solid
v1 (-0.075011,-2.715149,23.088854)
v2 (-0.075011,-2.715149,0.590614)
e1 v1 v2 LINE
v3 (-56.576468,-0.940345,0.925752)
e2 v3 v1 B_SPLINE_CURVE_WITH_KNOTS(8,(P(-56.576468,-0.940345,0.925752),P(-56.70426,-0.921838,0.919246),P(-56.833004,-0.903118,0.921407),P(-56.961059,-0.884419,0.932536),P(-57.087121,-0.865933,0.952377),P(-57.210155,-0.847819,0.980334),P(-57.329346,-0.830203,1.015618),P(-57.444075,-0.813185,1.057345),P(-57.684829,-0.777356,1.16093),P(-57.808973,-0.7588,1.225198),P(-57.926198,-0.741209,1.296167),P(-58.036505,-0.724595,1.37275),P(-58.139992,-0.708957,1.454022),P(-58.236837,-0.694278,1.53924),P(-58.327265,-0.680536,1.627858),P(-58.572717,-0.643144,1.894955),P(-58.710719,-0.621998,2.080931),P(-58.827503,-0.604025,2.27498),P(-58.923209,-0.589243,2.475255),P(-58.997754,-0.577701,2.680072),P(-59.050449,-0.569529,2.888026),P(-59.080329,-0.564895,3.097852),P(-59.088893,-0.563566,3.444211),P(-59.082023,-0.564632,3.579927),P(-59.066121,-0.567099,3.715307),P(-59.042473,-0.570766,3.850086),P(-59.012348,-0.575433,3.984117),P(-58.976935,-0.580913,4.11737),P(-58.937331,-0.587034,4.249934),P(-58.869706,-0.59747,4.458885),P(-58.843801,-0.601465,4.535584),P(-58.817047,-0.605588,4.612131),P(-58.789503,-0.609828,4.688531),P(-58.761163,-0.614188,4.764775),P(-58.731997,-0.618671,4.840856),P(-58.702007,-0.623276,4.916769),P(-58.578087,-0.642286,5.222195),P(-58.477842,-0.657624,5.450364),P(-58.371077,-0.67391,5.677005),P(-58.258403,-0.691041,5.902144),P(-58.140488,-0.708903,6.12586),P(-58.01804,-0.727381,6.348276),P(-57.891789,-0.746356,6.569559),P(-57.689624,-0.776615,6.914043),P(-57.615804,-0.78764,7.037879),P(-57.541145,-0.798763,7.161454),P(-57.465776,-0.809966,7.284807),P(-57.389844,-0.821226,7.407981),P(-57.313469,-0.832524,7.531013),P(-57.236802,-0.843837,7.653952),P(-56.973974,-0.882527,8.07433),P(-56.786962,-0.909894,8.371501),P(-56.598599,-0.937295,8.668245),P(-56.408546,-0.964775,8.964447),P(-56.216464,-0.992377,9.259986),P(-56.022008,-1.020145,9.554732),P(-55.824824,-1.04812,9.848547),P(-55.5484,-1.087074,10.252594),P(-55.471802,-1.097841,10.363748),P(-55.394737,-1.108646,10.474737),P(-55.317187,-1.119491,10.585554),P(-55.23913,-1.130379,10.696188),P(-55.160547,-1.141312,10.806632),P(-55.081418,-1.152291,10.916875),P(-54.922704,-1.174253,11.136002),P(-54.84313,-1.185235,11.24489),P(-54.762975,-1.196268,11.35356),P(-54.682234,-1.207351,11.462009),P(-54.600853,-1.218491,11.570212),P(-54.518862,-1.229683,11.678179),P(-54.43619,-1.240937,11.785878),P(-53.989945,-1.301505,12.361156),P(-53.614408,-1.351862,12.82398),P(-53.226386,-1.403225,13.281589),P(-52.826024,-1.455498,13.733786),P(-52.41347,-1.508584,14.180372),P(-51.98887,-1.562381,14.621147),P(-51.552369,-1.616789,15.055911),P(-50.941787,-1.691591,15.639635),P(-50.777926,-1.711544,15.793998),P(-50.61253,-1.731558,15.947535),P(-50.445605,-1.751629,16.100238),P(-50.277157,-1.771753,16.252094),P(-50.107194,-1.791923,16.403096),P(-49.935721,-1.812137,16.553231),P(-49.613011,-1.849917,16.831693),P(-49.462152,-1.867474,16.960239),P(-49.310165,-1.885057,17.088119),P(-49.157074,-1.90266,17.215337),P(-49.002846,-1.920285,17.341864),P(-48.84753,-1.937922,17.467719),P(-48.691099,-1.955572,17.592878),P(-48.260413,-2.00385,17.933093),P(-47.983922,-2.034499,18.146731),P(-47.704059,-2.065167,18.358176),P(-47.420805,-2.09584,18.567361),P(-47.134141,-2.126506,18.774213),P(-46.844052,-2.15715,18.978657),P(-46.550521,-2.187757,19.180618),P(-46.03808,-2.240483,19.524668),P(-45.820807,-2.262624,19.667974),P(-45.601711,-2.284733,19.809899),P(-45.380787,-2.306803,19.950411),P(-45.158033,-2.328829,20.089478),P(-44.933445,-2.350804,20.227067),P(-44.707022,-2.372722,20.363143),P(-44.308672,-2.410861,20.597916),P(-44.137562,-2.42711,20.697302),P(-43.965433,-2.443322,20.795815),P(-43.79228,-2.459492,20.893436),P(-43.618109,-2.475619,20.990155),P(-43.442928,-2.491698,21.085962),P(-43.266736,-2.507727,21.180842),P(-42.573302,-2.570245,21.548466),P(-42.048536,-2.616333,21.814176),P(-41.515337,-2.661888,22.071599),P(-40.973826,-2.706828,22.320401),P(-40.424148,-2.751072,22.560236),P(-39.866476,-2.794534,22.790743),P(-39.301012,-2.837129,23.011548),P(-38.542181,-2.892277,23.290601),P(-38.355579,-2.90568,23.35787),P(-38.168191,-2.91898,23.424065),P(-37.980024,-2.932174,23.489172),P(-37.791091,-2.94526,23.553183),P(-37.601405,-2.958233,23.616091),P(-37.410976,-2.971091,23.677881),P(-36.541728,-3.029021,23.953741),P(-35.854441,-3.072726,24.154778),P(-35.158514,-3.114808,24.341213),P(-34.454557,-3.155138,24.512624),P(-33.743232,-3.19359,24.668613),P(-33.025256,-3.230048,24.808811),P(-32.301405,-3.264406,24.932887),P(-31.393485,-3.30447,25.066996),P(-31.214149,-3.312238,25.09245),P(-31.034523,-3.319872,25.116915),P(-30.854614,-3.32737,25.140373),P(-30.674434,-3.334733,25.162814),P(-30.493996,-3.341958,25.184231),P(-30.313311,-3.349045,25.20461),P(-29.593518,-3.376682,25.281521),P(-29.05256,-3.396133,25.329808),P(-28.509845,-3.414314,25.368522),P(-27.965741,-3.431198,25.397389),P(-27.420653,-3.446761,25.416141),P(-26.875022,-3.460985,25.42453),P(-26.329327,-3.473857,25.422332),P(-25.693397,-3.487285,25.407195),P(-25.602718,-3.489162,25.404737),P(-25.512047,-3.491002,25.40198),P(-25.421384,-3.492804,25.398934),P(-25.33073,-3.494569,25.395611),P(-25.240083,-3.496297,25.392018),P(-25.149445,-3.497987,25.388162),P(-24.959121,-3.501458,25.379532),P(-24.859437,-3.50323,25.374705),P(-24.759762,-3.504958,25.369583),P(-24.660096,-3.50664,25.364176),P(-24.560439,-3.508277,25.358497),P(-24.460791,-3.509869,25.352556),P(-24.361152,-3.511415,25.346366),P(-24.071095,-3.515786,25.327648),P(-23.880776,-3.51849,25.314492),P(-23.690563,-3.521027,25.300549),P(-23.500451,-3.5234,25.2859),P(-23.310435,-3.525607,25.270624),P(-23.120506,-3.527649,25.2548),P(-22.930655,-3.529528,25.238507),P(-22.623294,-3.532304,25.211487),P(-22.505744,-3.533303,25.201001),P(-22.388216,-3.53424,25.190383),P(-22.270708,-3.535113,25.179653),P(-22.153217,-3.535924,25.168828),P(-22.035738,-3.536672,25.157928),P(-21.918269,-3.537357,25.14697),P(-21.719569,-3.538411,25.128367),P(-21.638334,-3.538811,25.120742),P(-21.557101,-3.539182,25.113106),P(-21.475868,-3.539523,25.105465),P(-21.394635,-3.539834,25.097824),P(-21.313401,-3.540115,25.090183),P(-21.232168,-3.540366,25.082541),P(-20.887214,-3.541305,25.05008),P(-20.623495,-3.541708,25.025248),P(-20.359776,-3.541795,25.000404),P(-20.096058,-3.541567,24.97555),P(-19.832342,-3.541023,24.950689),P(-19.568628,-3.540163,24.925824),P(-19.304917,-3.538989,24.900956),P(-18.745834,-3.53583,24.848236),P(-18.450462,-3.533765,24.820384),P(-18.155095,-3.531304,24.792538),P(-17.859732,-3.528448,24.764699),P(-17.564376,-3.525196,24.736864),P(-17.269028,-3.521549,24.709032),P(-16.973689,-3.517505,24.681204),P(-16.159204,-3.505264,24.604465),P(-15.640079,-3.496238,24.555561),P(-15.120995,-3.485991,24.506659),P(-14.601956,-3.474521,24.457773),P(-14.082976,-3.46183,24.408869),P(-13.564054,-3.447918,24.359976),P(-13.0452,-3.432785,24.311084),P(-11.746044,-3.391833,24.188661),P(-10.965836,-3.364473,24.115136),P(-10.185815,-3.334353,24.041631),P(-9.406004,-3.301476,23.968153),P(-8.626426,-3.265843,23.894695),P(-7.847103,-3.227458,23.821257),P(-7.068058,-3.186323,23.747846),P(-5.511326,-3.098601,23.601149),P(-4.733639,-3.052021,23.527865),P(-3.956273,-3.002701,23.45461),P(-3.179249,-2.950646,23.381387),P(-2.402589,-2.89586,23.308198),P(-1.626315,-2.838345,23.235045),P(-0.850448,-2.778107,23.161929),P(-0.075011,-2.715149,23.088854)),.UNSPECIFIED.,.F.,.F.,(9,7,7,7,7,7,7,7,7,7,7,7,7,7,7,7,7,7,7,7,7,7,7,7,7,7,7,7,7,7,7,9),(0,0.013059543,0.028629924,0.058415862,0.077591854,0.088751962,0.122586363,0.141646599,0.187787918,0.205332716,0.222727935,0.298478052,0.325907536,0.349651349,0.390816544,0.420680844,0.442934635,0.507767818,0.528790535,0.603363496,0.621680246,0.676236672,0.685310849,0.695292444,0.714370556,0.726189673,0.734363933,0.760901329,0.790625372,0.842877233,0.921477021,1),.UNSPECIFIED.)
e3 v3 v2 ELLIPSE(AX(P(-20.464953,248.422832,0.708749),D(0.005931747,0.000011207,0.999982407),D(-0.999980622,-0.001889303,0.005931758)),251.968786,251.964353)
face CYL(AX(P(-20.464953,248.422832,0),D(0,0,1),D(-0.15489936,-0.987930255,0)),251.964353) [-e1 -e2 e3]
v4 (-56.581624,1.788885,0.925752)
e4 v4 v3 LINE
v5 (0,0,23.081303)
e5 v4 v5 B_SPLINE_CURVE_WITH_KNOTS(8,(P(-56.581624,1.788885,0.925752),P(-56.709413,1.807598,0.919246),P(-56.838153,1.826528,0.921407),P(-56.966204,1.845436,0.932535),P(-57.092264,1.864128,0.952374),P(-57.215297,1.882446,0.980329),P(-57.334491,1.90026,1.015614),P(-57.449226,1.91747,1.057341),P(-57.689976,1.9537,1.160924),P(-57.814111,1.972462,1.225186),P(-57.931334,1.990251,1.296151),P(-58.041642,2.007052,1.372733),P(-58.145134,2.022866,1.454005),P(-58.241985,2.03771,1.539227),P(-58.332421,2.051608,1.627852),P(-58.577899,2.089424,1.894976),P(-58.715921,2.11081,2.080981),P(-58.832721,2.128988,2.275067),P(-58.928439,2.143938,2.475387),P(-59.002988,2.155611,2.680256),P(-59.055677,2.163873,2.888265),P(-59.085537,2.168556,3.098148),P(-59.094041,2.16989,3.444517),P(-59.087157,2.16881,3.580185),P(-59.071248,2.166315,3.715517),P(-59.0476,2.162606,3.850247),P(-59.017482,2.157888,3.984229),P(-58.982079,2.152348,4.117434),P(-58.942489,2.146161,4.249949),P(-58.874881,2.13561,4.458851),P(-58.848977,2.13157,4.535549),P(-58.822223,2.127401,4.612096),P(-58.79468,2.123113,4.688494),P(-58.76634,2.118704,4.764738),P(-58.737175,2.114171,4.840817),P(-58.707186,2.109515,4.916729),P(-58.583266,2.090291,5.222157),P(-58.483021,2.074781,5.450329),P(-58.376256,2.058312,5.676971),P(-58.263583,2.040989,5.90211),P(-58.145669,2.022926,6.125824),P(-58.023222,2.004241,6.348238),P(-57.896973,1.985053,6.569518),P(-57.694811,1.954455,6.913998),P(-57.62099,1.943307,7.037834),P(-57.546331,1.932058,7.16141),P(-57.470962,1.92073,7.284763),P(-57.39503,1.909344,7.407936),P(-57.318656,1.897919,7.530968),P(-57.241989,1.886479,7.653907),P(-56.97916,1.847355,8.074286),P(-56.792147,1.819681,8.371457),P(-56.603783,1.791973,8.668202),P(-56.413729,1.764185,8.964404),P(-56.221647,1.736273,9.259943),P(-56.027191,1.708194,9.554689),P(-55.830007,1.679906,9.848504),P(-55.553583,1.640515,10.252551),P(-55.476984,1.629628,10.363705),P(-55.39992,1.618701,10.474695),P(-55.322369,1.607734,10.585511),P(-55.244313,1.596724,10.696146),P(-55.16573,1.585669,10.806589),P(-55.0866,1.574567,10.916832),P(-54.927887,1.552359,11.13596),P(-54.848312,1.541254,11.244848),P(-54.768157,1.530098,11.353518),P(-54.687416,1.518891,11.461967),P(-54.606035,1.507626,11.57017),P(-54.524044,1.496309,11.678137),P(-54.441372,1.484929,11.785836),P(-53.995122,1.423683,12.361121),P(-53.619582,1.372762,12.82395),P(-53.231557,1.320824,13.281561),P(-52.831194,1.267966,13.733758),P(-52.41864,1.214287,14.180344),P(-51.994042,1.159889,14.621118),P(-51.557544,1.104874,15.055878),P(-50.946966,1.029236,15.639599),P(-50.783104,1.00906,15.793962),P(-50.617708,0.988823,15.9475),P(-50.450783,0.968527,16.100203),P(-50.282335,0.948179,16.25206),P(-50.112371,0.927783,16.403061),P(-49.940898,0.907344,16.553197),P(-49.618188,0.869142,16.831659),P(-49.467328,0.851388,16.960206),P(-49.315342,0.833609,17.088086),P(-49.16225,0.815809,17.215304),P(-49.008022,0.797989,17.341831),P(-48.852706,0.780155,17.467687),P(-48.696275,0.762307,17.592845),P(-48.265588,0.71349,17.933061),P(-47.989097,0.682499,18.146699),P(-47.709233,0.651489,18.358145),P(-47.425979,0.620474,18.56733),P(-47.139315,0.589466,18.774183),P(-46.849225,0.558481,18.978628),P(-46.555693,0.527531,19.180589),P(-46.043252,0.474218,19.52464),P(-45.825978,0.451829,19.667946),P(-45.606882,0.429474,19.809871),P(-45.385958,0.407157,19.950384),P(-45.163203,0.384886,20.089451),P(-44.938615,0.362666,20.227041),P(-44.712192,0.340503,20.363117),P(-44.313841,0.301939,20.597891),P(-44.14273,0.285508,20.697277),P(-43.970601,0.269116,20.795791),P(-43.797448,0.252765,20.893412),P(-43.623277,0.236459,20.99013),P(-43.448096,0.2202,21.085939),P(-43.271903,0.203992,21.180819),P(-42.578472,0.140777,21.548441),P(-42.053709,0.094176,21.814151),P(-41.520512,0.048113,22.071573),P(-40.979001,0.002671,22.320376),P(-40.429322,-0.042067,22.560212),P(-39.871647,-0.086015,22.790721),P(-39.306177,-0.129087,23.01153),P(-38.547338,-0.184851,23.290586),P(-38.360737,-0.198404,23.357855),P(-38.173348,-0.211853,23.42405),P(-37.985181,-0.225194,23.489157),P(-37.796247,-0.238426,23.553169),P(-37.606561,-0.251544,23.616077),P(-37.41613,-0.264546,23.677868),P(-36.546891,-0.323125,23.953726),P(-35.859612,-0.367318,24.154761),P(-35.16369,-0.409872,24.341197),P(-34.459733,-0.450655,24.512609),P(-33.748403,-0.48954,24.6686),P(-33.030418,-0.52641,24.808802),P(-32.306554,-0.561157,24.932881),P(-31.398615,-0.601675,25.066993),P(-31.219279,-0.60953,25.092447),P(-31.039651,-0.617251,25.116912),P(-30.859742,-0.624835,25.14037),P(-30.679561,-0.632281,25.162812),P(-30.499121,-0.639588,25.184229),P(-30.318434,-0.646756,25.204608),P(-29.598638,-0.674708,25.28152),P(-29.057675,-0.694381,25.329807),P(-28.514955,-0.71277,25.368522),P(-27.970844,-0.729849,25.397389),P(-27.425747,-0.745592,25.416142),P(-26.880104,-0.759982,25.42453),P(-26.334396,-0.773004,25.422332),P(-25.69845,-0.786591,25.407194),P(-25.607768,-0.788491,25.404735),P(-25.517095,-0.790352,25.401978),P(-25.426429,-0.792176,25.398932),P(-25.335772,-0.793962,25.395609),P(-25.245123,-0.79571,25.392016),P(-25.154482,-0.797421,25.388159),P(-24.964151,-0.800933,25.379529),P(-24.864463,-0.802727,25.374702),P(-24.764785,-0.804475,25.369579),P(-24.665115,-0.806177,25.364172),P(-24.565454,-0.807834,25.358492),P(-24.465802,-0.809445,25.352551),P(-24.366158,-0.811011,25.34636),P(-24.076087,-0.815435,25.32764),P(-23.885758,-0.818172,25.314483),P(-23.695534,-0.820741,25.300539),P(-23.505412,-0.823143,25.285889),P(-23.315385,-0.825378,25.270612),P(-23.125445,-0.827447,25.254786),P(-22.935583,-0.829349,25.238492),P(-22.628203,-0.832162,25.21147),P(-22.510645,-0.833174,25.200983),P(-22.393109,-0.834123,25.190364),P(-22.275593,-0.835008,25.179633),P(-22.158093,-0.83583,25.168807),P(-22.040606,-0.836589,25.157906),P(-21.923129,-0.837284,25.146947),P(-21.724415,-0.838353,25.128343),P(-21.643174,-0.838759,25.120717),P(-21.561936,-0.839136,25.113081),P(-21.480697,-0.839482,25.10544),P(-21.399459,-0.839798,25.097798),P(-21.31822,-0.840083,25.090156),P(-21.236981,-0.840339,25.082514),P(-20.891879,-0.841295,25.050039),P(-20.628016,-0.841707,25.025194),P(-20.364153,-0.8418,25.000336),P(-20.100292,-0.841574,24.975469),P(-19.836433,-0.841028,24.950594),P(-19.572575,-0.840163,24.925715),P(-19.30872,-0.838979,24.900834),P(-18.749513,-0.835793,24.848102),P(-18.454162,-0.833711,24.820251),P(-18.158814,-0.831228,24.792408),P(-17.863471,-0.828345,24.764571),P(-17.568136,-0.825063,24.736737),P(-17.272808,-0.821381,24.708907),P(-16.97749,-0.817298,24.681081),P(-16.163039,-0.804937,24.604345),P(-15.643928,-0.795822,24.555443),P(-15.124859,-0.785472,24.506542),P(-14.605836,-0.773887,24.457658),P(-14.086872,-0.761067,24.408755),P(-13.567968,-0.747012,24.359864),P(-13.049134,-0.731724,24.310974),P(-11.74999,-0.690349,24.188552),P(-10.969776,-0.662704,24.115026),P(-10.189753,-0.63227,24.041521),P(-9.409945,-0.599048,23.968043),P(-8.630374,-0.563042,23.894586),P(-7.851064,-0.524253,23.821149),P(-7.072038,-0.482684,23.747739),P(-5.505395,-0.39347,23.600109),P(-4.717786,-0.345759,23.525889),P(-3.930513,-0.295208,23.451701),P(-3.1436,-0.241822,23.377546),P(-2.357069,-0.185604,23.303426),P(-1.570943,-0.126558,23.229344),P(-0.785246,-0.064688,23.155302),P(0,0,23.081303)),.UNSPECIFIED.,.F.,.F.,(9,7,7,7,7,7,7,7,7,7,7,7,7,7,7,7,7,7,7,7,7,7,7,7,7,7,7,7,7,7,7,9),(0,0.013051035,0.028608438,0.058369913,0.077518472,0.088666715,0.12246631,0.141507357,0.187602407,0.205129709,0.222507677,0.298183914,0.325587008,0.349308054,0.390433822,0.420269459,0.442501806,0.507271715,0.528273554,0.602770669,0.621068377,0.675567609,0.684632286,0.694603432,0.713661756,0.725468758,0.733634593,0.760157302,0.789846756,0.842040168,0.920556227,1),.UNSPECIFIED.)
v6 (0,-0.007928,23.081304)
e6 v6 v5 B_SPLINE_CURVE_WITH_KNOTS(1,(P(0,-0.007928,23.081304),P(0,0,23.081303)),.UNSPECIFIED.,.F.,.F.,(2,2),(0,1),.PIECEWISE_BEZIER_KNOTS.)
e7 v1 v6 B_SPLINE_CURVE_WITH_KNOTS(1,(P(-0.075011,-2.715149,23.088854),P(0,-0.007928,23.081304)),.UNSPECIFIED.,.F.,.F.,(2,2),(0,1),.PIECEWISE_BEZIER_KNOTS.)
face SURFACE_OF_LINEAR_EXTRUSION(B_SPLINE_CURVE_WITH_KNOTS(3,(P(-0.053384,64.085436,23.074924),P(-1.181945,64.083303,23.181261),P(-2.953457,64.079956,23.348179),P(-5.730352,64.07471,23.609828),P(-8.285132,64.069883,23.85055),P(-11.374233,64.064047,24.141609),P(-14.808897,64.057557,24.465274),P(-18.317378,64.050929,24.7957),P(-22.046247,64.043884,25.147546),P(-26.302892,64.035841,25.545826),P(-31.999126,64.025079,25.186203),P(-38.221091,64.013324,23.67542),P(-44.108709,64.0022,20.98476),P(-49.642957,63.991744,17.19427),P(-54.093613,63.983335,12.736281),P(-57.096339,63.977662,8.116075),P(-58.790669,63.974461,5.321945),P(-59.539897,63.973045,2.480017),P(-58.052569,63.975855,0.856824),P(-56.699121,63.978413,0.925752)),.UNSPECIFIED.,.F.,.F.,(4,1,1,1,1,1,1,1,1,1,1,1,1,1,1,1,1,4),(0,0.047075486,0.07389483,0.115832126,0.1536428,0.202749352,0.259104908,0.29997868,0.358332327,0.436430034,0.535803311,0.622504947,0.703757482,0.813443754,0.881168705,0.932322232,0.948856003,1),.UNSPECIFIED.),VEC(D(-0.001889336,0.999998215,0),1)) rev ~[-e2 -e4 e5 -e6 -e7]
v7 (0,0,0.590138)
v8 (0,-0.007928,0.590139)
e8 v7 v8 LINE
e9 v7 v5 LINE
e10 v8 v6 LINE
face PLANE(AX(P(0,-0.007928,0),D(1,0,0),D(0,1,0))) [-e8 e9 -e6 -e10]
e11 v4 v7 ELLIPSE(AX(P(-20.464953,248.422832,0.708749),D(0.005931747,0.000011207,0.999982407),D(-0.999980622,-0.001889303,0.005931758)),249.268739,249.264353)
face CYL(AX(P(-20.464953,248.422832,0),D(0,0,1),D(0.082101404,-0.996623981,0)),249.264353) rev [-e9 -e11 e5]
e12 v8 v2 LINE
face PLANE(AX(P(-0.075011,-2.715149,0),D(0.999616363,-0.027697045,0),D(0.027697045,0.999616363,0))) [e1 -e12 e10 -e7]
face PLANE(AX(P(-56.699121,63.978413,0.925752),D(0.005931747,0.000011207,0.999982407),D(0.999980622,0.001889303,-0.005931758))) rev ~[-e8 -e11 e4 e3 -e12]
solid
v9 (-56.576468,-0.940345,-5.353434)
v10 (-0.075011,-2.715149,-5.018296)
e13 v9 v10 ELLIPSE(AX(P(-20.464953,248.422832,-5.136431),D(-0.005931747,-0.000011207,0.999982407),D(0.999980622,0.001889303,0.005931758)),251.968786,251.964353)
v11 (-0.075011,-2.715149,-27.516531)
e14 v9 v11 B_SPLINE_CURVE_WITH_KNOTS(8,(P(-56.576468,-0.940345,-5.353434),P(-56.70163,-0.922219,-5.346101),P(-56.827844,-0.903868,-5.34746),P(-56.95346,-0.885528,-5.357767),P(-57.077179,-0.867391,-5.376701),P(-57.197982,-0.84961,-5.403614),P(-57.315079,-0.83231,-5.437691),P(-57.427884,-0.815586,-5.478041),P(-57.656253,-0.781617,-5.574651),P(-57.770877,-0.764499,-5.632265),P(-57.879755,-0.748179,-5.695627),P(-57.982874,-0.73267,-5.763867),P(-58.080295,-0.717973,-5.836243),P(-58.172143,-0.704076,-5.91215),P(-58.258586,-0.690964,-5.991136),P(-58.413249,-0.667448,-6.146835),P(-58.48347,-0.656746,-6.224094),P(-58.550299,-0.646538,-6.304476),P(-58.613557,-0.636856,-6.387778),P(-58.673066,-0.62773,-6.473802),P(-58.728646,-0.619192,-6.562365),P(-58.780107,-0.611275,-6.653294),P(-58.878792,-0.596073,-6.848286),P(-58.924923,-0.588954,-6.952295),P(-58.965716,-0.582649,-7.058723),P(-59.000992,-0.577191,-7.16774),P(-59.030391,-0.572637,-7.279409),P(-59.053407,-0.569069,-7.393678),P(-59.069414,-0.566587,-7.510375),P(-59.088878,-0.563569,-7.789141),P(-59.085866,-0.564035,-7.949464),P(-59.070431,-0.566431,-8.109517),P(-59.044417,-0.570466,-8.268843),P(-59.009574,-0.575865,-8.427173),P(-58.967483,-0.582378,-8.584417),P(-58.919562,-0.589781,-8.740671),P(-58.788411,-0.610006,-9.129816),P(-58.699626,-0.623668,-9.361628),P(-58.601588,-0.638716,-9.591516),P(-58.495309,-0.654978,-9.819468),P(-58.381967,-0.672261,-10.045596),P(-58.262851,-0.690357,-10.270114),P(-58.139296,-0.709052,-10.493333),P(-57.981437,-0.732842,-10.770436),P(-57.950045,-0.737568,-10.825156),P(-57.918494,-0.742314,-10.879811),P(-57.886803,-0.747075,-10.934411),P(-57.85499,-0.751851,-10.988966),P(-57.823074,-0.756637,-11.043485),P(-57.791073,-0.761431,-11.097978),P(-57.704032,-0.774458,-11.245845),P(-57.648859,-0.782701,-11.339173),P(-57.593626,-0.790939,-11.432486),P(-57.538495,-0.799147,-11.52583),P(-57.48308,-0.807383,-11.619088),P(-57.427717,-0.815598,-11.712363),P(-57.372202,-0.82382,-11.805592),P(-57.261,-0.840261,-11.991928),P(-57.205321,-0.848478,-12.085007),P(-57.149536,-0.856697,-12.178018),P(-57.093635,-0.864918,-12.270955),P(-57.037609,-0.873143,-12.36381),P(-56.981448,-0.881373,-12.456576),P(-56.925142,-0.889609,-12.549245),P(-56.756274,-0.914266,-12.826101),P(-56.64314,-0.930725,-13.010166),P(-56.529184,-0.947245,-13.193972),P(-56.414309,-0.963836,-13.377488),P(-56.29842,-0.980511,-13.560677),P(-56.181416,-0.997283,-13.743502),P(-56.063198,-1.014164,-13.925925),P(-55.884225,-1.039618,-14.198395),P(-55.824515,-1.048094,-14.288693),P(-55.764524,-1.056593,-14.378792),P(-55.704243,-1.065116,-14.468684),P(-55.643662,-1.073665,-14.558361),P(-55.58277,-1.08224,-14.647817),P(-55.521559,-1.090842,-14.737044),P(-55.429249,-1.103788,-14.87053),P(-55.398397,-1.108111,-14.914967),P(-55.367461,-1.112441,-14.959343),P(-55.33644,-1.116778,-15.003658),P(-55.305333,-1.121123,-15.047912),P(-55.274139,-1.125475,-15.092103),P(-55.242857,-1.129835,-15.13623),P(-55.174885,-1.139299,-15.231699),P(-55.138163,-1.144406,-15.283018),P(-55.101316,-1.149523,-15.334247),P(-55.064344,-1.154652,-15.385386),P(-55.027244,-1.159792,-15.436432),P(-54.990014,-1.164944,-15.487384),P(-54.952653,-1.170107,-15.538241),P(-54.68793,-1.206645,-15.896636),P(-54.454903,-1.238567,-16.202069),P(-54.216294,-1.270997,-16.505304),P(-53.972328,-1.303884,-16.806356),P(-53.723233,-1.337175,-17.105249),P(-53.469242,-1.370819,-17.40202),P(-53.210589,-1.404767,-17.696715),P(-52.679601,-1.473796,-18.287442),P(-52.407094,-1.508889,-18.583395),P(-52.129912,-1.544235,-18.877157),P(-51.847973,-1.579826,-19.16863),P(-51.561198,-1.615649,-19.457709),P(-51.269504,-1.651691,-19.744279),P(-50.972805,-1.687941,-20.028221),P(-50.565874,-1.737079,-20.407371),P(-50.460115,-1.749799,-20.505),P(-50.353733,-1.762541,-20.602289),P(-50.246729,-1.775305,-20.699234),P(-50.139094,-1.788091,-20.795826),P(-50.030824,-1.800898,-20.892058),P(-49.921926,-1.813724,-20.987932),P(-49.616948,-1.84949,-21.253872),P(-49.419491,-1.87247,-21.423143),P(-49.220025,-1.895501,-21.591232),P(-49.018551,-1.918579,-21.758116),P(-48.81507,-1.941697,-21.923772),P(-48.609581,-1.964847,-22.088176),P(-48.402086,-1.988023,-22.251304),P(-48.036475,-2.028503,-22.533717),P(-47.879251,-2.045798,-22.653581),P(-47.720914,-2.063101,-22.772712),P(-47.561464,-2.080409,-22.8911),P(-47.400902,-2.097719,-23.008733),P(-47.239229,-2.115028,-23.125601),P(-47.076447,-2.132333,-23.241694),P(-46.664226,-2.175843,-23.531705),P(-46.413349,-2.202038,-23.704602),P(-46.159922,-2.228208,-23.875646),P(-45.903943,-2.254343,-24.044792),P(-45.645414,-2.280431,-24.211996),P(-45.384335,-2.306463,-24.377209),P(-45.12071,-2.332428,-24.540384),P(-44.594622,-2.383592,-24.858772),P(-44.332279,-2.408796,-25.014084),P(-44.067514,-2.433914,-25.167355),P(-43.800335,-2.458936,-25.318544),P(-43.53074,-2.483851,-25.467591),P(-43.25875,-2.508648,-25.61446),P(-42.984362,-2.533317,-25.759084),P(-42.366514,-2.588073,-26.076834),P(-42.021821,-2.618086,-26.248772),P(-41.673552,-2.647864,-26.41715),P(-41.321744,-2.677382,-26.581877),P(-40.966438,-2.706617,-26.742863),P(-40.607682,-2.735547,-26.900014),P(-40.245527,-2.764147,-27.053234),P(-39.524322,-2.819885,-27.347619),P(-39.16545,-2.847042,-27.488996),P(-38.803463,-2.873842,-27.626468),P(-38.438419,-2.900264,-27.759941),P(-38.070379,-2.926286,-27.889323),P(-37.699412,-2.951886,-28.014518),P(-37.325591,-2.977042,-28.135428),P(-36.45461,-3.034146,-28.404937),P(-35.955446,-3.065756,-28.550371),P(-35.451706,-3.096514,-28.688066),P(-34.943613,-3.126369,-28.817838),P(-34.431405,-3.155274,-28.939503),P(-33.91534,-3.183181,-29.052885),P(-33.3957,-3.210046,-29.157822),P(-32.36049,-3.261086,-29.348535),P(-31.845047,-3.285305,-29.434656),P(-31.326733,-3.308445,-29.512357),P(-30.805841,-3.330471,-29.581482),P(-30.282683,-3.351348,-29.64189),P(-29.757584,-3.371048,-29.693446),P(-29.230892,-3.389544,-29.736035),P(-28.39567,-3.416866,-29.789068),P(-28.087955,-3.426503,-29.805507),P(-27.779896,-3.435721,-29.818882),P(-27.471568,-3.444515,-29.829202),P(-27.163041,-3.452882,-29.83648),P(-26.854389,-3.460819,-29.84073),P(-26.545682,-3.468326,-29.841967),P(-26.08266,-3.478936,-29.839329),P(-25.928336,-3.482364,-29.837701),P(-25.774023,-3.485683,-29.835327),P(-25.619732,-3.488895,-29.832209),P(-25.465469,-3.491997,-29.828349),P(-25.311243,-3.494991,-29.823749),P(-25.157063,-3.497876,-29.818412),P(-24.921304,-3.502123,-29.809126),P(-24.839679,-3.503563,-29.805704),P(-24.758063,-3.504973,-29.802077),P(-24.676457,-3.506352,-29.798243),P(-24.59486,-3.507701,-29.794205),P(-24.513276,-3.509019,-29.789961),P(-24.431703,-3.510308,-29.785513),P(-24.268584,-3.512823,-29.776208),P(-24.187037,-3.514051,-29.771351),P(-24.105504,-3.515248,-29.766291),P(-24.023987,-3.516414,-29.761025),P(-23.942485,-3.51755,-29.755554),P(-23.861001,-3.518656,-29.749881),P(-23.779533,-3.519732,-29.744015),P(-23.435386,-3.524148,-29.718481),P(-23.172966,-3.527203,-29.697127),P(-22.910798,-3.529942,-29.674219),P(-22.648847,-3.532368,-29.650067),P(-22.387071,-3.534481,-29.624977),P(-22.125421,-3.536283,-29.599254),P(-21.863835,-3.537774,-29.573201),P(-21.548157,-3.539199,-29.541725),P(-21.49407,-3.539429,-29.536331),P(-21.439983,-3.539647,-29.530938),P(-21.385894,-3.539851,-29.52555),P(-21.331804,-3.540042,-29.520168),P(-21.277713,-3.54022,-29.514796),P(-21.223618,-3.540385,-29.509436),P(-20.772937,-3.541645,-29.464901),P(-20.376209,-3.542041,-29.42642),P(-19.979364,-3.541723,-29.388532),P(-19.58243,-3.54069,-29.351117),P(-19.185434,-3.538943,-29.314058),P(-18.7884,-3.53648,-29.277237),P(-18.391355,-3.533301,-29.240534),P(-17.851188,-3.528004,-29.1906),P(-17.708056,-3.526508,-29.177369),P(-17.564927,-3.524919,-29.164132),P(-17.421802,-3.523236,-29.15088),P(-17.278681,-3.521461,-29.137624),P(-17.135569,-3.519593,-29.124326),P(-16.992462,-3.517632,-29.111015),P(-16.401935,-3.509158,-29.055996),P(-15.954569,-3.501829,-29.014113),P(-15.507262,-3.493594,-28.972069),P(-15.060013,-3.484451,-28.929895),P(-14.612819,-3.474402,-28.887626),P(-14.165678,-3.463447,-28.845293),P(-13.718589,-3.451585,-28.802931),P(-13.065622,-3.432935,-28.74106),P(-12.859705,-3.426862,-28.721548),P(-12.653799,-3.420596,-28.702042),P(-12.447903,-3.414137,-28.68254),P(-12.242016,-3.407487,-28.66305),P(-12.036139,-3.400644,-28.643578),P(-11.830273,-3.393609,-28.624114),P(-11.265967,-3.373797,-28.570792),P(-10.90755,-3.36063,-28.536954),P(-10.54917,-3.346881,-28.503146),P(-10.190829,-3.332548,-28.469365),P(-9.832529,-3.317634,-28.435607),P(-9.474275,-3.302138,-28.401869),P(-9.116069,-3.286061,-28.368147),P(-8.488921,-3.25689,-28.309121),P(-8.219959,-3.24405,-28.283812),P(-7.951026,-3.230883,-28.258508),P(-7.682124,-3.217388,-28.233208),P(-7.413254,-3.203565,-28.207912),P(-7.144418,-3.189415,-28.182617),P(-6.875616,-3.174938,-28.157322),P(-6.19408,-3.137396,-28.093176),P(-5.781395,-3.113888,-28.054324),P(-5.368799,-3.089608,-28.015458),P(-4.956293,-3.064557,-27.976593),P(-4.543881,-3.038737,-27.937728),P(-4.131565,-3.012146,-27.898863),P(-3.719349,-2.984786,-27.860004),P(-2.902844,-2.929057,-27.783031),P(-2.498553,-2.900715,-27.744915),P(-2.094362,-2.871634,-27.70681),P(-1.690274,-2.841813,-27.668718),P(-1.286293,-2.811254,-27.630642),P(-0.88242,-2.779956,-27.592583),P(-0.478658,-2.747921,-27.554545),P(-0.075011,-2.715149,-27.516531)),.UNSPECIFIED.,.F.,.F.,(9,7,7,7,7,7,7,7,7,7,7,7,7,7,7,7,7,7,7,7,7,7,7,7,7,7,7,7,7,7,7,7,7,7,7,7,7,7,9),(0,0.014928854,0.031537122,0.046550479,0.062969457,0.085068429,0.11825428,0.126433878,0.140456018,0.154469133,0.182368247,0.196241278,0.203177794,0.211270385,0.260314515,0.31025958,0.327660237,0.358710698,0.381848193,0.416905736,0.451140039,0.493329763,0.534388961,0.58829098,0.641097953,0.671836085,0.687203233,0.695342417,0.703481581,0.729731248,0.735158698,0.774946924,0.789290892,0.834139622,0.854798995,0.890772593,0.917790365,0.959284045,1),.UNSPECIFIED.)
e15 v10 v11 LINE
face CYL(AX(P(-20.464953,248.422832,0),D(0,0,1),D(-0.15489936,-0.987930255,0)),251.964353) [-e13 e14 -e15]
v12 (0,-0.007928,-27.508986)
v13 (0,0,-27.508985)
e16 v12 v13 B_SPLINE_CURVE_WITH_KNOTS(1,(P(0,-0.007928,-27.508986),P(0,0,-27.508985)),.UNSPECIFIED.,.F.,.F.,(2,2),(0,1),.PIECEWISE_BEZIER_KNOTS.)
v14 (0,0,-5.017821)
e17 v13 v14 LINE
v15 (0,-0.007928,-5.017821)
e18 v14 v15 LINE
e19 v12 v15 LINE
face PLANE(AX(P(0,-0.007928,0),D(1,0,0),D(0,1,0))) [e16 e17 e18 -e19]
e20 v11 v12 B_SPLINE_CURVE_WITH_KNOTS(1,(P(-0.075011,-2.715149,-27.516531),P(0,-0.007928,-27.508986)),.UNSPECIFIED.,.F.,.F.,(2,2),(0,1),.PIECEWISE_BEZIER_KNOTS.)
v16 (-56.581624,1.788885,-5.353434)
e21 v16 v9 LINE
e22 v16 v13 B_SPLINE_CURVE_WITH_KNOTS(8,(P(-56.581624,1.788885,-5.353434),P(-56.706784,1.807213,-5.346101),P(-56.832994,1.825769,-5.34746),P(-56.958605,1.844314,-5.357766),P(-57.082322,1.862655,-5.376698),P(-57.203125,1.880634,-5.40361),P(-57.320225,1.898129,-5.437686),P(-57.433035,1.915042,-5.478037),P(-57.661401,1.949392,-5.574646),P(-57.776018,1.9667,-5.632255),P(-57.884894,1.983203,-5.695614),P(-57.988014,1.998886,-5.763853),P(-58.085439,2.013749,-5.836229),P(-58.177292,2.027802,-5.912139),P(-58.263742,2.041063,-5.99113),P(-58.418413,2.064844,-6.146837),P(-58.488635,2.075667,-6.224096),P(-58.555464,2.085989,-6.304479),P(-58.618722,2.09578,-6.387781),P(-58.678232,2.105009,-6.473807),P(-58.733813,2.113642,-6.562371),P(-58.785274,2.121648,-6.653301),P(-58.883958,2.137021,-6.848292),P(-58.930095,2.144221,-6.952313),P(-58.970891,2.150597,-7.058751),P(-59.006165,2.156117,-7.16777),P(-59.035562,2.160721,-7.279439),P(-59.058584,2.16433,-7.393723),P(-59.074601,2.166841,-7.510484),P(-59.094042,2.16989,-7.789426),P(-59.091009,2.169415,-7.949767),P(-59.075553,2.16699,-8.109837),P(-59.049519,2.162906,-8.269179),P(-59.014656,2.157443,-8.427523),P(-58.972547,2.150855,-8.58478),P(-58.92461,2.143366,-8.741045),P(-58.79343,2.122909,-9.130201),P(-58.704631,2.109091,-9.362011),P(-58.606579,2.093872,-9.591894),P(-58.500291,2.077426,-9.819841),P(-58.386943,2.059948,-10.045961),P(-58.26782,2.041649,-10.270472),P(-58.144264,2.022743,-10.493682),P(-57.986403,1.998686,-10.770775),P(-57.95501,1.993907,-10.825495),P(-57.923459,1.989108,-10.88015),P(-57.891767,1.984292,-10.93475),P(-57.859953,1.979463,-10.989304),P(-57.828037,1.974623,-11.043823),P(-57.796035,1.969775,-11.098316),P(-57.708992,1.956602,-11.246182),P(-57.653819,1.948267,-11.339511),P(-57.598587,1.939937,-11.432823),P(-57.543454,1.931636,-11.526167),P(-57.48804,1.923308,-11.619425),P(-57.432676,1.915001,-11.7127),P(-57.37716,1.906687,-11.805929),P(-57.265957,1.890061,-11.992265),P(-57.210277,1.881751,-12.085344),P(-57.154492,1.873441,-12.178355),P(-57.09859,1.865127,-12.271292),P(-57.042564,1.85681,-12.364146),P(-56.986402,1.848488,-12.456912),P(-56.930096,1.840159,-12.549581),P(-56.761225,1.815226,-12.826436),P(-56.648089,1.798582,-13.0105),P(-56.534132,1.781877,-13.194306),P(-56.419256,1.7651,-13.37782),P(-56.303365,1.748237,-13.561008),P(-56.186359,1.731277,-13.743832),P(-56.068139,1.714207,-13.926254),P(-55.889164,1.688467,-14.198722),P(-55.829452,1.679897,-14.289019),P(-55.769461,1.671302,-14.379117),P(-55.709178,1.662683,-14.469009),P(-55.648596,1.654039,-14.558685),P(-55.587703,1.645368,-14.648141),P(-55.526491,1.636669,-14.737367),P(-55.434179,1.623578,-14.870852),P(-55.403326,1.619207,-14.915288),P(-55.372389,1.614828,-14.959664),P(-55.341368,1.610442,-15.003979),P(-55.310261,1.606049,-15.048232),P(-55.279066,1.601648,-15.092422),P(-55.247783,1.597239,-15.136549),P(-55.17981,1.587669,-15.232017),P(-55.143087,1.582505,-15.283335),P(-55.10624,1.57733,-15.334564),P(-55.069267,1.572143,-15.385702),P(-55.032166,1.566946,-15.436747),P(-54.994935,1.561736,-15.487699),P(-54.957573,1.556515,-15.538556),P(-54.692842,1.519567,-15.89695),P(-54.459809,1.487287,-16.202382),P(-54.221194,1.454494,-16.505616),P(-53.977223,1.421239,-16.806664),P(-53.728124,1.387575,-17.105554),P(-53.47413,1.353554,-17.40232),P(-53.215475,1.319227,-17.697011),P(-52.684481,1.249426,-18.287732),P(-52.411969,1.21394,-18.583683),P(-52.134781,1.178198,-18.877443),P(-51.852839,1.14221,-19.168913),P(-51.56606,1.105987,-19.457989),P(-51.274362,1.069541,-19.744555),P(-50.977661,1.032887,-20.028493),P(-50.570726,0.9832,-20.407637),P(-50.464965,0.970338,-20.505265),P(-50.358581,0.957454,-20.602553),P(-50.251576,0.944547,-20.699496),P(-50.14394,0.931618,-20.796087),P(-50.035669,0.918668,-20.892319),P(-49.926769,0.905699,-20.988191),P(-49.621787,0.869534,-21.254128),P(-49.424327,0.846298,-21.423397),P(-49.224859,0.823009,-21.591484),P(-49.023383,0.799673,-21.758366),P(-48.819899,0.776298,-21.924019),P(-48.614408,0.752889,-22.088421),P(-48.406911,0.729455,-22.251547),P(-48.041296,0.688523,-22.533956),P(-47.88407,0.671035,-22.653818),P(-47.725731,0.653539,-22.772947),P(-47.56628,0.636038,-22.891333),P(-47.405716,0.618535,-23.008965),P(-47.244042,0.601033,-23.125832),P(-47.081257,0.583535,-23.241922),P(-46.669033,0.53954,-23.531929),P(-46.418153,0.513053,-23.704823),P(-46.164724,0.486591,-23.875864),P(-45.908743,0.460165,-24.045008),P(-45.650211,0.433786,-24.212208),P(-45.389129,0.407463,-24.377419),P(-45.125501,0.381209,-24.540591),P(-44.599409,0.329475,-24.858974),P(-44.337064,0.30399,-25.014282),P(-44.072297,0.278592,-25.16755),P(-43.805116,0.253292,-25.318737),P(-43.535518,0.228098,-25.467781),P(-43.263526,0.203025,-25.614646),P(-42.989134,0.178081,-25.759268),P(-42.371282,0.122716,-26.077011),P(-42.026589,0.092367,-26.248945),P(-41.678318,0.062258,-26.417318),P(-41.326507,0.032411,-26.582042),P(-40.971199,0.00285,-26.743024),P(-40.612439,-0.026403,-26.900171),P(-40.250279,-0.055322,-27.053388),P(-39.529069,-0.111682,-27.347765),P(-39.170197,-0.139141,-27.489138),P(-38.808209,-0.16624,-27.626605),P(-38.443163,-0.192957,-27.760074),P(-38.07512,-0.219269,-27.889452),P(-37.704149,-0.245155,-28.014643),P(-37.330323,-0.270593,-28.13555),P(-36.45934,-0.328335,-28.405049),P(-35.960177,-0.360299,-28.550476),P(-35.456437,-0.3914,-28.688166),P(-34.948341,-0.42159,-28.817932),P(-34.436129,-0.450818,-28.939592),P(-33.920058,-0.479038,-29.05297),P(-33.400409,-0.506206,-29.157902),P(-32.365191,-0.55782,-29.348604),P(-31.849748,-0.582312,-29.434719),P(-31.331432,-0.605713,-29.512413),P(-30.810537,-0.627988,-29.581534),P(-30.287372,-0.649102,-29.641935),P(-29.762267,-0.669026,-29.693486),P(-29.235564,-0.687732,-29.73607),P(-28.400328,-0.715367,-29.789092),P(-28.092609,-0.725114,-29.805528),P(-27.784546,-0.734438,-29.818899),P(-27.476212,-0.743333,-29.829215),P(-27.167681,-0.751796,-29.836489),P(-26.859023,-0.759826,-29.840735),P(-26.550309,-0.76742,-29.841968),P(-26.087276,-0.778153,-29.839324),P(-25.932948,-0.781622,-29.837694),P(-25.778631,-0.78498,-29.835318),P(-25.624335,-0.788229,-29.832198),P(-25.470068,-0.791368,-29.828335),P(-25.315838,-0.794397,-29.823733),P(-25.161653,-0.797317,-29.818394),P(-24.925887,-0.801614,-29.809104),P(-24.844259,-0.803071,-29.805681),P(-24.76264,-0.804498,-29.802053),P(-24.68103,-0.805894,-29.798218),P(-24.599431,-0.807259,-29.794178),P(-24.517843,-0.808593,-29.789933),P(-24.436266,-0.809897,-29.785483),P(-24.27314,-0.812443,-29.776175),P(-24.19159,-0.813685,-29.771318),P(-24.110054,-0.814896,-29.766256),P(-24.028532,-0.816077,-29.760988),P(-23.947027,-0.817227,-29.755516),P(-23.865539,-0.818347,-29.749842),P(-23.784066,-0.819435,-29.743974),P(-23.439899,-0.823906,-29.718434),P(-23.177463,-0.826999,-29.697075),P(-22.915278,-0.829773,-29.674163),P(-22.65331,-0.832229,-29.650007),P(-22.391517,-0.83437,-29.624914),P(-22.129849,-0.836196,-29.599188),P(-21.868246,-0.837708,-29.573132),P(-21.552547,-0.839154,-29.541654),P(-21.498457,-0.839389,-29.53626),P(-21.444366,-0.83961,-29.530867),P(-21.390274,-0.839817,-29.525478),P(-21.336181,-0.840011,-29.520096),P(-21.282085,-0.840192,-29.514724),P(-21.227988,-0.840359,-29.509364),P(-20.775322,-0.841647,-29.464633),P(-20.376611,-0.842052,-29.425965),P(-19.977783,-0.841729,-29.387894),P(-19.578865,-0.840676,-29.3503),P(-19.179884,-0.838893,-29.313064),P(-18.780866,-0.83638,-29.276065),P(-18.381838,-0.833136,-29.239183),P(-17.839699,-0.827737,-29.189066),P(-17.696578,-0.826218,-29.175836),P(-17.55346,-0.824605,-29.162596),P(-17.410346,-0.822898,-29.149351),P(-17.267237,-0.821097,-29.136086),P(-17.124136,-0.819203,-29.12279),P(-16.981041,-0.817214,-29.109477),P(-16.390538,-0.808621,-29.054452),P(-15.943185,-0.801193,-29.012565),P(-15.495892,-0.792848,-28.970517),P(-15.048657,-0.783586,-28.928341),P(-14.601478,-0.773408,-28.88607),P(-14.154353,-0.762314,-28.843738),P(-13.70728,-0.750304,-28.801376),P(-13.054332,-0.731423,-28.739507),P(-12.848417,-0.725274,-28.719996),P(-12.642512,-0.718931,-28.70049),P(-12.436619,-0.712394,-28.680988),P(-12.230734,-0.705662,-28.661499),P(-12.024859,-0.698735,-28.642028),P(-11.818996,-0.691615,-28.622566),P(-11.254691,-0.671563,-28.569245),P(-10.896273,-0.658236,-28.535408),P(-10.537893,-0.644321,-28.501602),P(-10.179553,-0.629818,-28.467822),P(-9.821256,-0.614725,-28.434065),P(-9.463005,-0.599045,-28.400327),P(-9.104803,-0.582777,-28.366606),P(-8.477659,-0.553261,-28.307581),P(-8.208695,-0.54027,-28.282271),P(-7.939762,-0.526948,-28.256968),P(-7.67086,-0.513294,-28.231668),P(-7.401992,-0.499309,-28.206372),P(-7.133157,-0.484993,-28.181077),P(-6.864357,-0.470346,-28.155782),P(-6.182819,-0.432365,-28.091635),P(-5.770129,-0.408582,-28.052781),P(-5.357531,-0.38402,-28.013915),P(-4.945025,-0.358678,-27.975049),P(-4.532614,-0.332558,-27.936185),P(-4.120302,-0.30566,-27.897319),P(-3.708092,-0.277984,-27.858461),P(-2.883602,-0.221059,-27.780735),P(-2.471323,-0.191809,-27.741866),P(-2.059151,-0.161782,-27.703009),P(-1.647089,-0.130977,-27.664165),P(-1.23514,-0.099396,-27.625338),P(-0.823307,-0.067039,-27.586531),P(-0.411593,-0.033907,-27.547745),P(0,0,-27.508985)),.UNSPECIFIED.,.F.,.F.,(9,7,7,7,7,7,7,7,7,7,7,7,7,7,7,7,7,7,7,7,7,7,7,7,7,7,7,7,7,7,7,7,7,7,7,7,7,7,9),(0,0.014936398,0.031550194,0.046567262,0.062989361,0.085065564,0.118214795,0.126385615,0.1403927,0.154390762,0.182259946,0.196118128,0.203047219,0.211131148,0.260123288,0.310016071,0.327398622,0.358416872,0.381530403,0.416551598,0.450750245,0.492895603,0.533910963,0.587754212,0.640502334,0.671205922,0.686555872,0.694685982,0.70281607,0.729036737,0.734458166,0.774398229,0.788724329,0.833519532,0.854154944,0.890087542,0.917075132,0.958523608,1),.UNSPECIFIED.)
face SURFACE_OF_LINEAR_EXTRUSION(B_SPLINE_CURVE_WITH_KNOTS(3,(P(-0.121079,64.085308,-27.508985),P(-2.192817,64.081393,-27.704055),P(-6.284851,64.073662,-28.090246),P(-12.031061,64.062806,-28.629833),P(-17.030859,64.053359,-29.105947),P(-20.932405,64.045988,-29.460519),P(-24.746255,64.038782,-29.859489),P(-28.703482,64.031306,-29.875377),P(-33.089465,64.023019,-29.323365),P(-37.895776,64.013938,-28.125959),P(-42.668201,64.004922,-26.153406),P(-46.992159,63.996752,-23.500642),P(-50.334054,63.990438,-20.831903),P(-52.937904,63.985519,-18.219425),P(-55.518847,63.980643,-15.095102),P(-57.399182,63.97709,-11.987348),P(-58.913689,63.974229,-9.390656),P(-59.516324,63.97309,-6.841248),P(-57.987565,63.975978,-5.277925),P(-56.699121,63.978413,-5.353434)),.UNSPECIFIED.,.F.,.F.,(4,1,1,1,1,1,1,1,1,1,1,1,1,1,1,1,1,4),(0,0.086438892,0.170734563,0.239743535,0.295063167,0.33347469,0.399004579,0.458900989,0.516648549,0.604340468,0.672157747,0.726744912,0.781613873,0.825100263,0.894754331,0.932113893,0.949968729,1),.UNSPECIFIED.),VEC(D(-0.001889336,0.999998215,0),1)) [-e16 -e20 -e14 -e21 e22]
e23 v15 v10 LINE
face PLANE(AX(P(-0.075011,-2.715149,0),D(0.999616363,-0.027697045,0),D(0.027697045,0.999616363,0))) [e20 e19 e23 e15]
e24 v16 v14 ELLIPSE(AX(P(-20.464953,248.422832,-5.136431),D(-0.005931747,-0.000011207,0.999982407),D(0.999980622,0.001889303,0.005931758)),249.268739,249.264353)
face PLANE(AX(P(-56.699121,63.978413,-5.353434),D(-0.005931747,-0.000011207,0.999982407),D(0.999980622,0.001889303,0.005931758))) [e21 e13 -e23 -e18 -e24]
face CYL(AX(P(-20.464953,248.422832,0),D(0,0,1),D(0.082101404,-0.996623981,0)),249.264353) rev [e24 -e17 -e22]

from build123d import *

# Parameters (mm, degrees)
Y_KSEKLIK_EKSTR_ZYON1_DEPTH = 55
KES_EKSTR_ZYON1_DEPTH       = 110
KES_EKSTR_ZYON1_DEPTH_BACK  = 110
IZIM5_OUTSIDE_W             = 86.532
IZIM5_OUTSIDE_H             = 137.038
KES_EKSTR_ZYON2_DEPTH       = 85


with BuildPart() as part:
    # Çizim1 → Yükseklik-Ekstrüzyon1 (new, symmetric)
    with BuildSketch(Plane.XY):
        with BuildLine():
            Line((-0.075010807, -2.715149048), (0, -0.007927797))
            Line((0, -0.007927797), (0, 0))
            ThreePointArc((0, 0), (-29.81394193, -0.66613641), (-59.494070389, 2.232974794))
            Line((-59.494070389, 2.232974794), (-59.494070389, -0.500375633))
            ThreePointArc((-59.494070389, -0.500375633), (-29.850101819, -3.366671884), (-0.075010807, -2.715149048))
        make_face()
    extrude(amount=Y_KSEKLIK_EKSTR_ZYON1_DEPTH, both=True)

    # Çizim5 outside → Kes-Ekstrüzyon1 (cut, two sides: drawn at the far end of the back side and taken through both)
    with BuildSketch(Plane(origin=(0, 0, 0), x_dir=(1, 0, 0), z_dir=(0, 1, 0)).offset(-KES_EKSTR_ZYON1_DEPTH_BACK)):
        with Locations((-29.747, 0)):
            Rectangle(IZIM5_OUTSIDE_W, IZIM5_OUTSIDE_H)
        with BuildLine():
            Line((-56.367778213, 4.175289019), (0, 4.175289019))
            Line((0, 4.175289019), (0, 29.891571186))
            Line((0, 29.891571186), (-21.719050446, 31.564533679))
            ThreePointArc((-21.719050446, 31.564533679), (-44.233404436, 26.124342722), (-59.257147448, 8.495418785))
            ThreePointArc((-59.257147448, 8.495418785), (-58.966430545, 5.563562545), (-56.367778213, 4.175289019))
        make_face(mode=Mode.SUBTRACT)
        with BuildLine():
            Line((0, 0.175289019), (-56.367778213, 0.175289019))
            ThreePointArc((-56.367778213, 0.175289019), (-58.966430545, -1.212984508), (-59.257147448, -4.144840747))
            ThreePointArc((-59.257147448, -4.144840747), (-44.233404436, -21.773764684), (-21.719050446, -27.213955641))
            Line((-21.719050446, -27.213955641), (0, -25.540993148))
            Line((0, -25.540993148), (0, 0.175289019))
        make_face(mode=Mode.SUBTRACT)
    extrude(amount=KES_EKSTR_ZYON1_DEPTH + KES_EKSTR_ZYON1_DEPTH_BACK, mode=Mode.SUBTRACT)


with BuildPart() as kes_ekstr_zyon1_piece_1:
    # of the separate pieces the step leaves, piece 1, a body of its own (kes_ekstr_zyon1_pieces)
    add(part.part.solids().sort_by_distance((-59.257147448, 2.195531635, 4.144840747))[0])


with BuildPart() as kes_ekstr_zyon1_piece_2:
    # of the separate pieces the step leaves, piece 2, a body of its own (kes_ekstr_zyon1_pieces)
    add(part.part.solids().sort_by_distance((-56.367778213, -0.970476736, -4.175289019))[0])


with BuildPart() as kes_ekstr_zyon2_tool:
    # Çizim6 → Kes-Ekstrüzyon2 (new body)
    with BuildSketch(Plane(origin=(726.739417183, 65.458593801, 18.923101675), x_dir=(0.9999981579386474, 0.0018893358023069587, -0.00033842213030479116), z_dir=(-0.0018893359104993415, 0.999998215203316, 1.5040198755781437e-14))):
        with BuildLine():
            Line((-783.431676214, 24.541668003), (-726.443128618, 24.184332875))
            Line((-726.443128618, 24.184332875), (-726.443128618, 21.898021943))
            Line((-726.443128618, 21.898021943), (-791.056713743, 21.898021943))
            Line((-791.056713743, 21.898021943), (-785.719763129, 49.974236192))
            Line((-785.719763129, 49.974236192), (-751.828590491, 55.555144448))
            Line((-751.828590491, 55.555144448), (-721.174036445, 52.76469032))
            Line((-721.174036445, 52.76469032), (-719.232850965, 52.76469032))
            Line((-719.232850965, 52.76469032), (-726.846038103, 46.67806977))
            add(Edge.make_bspline(
                [(-726.846038103, 46.67806977), (-728.917713328, 46.873841194), (-733.009623868, 47.261416612), (-738.755661636, 47.802948779), (-743.755306525, 48.280754422), (-747.65673984, 48.63664703), (-751.470461141, 49.036908133), (-755.427689943, 49.05413455), (-759.813867186, 48.503606814), (-764.620591456, 47.307827768), (-769.39369231, 45.336890239), (-773.718555811, 42.685589919), (-777.06135937, 40.017981239), (-779.666098716, 37.406385556), (-782.248102563, 34.282935289), (-784.129493211, 31.175818181), (-785.644880952, 28.579638683), (-786.248380484, 26.03043539), (-784.720147933, 24.466595222), (-783.431676214, 24.541668003)],
                knots=[0, 0, 0, 0, 0.086438892, 0.170734563, 0.239743535, 0.295063167, 0.33347469, 0.399004579, 0.458900989, 0.516648549, 0.604340468, 0.672157747, 0.726744912, 0.781613873, 0.825100263, 0.894754331, 0.932113893, 0.949968729, 1, 1, 1, 1], degree=3))
        make_face()
        with BuildLine():
            Line((-783.433801229, 18.262481863), (-726.203006278, 18.582598254))
            Line((-726.203006278, 18.582598254), (-726.203006278, 20.675011644))
            Line((-726.203006278, 20.675011644), (-791.056713743, 20.675011644))
            Line((-791.056713743, 20.675011644), (-791.056713743, -3.275472401))
            Line((-791.056713743, -3.275472401), (-754.818403754, -12.400962379))
            Line((-754.818403754, -12.400962379), (-721.903476312, -11.472341089))
            Line((-721.903476312, -11.472341089), (-726.795461561, -3.905858927))
            add(Edge.make_bspline(
                [(-726.795461561, -3.905858927), (-727.924060645, -4.01181398), (-729.695632513, -4.178132898), (-732.472620361, -4.43884164), (-735.027486768, -4.678699519), (-738.116691126, -4.968712482), (-741.551470823, -5.291214812), (-745.060070115, -5.620454021), (-748.78906427, -5.971037576), (-753.045851445, -6.367877269), (-758.741973283, -6.00632697), (-764.963438156, -4.49343769), (-770.85015535, -1.800785428), (-776.383130399, 1.991576748), (-780.832285573, 6.451071536), (-783.833453298, 11.072293732), (-785.526840385, 13.866997635), (-786.275108093, 16.709178662), (-784.787228217, 18.331868208), (-783.433801229, 18.262481863)],
                knots=[0, 0, 0, 0, 0.047075486, 0.07389483, 0.115832126, 0.1536428, 0.202749352, 0.259104908, 0.29997868, 0.358332327, 0.436430034, 0.535803311, 0.622504947, 0.703757482, 0.813443754, 0.881168705, 0.932322232, 0.948856003, 1, 1, 1, 1], degree=3))
        make_face()
    extrude(amount=-KES_EKSTR_ZYON2_DEPTH)


with BuildPart() as kes_ekstr_zyon1_piece_1_1:
    add(kes_ekstr_zyon1_piece_1.part)

    # Kes-Ekstrüzyon2: cut by kes_ekstr_zyon2_tool
    add(kes_ekstr_zyon2_tool.part, mode=Mode.SUBTRACT)


with BuildPart() as kes_ekstr_zyon1_piece_2_1:
    add(kes_ekstr_zyon1_piece_2.part)

    # Kes-Ekstrüzyon2: cut by kes_ekstr_zyon2_tool
    add(kes_ekstr_zyon2_tool.part, mode=Mode.SUBTRACT)


solid = Compound([kes_ekstr_zyon1_piece_1_1.part, kes_ekstr_zyon1_piece_2_1.part])
